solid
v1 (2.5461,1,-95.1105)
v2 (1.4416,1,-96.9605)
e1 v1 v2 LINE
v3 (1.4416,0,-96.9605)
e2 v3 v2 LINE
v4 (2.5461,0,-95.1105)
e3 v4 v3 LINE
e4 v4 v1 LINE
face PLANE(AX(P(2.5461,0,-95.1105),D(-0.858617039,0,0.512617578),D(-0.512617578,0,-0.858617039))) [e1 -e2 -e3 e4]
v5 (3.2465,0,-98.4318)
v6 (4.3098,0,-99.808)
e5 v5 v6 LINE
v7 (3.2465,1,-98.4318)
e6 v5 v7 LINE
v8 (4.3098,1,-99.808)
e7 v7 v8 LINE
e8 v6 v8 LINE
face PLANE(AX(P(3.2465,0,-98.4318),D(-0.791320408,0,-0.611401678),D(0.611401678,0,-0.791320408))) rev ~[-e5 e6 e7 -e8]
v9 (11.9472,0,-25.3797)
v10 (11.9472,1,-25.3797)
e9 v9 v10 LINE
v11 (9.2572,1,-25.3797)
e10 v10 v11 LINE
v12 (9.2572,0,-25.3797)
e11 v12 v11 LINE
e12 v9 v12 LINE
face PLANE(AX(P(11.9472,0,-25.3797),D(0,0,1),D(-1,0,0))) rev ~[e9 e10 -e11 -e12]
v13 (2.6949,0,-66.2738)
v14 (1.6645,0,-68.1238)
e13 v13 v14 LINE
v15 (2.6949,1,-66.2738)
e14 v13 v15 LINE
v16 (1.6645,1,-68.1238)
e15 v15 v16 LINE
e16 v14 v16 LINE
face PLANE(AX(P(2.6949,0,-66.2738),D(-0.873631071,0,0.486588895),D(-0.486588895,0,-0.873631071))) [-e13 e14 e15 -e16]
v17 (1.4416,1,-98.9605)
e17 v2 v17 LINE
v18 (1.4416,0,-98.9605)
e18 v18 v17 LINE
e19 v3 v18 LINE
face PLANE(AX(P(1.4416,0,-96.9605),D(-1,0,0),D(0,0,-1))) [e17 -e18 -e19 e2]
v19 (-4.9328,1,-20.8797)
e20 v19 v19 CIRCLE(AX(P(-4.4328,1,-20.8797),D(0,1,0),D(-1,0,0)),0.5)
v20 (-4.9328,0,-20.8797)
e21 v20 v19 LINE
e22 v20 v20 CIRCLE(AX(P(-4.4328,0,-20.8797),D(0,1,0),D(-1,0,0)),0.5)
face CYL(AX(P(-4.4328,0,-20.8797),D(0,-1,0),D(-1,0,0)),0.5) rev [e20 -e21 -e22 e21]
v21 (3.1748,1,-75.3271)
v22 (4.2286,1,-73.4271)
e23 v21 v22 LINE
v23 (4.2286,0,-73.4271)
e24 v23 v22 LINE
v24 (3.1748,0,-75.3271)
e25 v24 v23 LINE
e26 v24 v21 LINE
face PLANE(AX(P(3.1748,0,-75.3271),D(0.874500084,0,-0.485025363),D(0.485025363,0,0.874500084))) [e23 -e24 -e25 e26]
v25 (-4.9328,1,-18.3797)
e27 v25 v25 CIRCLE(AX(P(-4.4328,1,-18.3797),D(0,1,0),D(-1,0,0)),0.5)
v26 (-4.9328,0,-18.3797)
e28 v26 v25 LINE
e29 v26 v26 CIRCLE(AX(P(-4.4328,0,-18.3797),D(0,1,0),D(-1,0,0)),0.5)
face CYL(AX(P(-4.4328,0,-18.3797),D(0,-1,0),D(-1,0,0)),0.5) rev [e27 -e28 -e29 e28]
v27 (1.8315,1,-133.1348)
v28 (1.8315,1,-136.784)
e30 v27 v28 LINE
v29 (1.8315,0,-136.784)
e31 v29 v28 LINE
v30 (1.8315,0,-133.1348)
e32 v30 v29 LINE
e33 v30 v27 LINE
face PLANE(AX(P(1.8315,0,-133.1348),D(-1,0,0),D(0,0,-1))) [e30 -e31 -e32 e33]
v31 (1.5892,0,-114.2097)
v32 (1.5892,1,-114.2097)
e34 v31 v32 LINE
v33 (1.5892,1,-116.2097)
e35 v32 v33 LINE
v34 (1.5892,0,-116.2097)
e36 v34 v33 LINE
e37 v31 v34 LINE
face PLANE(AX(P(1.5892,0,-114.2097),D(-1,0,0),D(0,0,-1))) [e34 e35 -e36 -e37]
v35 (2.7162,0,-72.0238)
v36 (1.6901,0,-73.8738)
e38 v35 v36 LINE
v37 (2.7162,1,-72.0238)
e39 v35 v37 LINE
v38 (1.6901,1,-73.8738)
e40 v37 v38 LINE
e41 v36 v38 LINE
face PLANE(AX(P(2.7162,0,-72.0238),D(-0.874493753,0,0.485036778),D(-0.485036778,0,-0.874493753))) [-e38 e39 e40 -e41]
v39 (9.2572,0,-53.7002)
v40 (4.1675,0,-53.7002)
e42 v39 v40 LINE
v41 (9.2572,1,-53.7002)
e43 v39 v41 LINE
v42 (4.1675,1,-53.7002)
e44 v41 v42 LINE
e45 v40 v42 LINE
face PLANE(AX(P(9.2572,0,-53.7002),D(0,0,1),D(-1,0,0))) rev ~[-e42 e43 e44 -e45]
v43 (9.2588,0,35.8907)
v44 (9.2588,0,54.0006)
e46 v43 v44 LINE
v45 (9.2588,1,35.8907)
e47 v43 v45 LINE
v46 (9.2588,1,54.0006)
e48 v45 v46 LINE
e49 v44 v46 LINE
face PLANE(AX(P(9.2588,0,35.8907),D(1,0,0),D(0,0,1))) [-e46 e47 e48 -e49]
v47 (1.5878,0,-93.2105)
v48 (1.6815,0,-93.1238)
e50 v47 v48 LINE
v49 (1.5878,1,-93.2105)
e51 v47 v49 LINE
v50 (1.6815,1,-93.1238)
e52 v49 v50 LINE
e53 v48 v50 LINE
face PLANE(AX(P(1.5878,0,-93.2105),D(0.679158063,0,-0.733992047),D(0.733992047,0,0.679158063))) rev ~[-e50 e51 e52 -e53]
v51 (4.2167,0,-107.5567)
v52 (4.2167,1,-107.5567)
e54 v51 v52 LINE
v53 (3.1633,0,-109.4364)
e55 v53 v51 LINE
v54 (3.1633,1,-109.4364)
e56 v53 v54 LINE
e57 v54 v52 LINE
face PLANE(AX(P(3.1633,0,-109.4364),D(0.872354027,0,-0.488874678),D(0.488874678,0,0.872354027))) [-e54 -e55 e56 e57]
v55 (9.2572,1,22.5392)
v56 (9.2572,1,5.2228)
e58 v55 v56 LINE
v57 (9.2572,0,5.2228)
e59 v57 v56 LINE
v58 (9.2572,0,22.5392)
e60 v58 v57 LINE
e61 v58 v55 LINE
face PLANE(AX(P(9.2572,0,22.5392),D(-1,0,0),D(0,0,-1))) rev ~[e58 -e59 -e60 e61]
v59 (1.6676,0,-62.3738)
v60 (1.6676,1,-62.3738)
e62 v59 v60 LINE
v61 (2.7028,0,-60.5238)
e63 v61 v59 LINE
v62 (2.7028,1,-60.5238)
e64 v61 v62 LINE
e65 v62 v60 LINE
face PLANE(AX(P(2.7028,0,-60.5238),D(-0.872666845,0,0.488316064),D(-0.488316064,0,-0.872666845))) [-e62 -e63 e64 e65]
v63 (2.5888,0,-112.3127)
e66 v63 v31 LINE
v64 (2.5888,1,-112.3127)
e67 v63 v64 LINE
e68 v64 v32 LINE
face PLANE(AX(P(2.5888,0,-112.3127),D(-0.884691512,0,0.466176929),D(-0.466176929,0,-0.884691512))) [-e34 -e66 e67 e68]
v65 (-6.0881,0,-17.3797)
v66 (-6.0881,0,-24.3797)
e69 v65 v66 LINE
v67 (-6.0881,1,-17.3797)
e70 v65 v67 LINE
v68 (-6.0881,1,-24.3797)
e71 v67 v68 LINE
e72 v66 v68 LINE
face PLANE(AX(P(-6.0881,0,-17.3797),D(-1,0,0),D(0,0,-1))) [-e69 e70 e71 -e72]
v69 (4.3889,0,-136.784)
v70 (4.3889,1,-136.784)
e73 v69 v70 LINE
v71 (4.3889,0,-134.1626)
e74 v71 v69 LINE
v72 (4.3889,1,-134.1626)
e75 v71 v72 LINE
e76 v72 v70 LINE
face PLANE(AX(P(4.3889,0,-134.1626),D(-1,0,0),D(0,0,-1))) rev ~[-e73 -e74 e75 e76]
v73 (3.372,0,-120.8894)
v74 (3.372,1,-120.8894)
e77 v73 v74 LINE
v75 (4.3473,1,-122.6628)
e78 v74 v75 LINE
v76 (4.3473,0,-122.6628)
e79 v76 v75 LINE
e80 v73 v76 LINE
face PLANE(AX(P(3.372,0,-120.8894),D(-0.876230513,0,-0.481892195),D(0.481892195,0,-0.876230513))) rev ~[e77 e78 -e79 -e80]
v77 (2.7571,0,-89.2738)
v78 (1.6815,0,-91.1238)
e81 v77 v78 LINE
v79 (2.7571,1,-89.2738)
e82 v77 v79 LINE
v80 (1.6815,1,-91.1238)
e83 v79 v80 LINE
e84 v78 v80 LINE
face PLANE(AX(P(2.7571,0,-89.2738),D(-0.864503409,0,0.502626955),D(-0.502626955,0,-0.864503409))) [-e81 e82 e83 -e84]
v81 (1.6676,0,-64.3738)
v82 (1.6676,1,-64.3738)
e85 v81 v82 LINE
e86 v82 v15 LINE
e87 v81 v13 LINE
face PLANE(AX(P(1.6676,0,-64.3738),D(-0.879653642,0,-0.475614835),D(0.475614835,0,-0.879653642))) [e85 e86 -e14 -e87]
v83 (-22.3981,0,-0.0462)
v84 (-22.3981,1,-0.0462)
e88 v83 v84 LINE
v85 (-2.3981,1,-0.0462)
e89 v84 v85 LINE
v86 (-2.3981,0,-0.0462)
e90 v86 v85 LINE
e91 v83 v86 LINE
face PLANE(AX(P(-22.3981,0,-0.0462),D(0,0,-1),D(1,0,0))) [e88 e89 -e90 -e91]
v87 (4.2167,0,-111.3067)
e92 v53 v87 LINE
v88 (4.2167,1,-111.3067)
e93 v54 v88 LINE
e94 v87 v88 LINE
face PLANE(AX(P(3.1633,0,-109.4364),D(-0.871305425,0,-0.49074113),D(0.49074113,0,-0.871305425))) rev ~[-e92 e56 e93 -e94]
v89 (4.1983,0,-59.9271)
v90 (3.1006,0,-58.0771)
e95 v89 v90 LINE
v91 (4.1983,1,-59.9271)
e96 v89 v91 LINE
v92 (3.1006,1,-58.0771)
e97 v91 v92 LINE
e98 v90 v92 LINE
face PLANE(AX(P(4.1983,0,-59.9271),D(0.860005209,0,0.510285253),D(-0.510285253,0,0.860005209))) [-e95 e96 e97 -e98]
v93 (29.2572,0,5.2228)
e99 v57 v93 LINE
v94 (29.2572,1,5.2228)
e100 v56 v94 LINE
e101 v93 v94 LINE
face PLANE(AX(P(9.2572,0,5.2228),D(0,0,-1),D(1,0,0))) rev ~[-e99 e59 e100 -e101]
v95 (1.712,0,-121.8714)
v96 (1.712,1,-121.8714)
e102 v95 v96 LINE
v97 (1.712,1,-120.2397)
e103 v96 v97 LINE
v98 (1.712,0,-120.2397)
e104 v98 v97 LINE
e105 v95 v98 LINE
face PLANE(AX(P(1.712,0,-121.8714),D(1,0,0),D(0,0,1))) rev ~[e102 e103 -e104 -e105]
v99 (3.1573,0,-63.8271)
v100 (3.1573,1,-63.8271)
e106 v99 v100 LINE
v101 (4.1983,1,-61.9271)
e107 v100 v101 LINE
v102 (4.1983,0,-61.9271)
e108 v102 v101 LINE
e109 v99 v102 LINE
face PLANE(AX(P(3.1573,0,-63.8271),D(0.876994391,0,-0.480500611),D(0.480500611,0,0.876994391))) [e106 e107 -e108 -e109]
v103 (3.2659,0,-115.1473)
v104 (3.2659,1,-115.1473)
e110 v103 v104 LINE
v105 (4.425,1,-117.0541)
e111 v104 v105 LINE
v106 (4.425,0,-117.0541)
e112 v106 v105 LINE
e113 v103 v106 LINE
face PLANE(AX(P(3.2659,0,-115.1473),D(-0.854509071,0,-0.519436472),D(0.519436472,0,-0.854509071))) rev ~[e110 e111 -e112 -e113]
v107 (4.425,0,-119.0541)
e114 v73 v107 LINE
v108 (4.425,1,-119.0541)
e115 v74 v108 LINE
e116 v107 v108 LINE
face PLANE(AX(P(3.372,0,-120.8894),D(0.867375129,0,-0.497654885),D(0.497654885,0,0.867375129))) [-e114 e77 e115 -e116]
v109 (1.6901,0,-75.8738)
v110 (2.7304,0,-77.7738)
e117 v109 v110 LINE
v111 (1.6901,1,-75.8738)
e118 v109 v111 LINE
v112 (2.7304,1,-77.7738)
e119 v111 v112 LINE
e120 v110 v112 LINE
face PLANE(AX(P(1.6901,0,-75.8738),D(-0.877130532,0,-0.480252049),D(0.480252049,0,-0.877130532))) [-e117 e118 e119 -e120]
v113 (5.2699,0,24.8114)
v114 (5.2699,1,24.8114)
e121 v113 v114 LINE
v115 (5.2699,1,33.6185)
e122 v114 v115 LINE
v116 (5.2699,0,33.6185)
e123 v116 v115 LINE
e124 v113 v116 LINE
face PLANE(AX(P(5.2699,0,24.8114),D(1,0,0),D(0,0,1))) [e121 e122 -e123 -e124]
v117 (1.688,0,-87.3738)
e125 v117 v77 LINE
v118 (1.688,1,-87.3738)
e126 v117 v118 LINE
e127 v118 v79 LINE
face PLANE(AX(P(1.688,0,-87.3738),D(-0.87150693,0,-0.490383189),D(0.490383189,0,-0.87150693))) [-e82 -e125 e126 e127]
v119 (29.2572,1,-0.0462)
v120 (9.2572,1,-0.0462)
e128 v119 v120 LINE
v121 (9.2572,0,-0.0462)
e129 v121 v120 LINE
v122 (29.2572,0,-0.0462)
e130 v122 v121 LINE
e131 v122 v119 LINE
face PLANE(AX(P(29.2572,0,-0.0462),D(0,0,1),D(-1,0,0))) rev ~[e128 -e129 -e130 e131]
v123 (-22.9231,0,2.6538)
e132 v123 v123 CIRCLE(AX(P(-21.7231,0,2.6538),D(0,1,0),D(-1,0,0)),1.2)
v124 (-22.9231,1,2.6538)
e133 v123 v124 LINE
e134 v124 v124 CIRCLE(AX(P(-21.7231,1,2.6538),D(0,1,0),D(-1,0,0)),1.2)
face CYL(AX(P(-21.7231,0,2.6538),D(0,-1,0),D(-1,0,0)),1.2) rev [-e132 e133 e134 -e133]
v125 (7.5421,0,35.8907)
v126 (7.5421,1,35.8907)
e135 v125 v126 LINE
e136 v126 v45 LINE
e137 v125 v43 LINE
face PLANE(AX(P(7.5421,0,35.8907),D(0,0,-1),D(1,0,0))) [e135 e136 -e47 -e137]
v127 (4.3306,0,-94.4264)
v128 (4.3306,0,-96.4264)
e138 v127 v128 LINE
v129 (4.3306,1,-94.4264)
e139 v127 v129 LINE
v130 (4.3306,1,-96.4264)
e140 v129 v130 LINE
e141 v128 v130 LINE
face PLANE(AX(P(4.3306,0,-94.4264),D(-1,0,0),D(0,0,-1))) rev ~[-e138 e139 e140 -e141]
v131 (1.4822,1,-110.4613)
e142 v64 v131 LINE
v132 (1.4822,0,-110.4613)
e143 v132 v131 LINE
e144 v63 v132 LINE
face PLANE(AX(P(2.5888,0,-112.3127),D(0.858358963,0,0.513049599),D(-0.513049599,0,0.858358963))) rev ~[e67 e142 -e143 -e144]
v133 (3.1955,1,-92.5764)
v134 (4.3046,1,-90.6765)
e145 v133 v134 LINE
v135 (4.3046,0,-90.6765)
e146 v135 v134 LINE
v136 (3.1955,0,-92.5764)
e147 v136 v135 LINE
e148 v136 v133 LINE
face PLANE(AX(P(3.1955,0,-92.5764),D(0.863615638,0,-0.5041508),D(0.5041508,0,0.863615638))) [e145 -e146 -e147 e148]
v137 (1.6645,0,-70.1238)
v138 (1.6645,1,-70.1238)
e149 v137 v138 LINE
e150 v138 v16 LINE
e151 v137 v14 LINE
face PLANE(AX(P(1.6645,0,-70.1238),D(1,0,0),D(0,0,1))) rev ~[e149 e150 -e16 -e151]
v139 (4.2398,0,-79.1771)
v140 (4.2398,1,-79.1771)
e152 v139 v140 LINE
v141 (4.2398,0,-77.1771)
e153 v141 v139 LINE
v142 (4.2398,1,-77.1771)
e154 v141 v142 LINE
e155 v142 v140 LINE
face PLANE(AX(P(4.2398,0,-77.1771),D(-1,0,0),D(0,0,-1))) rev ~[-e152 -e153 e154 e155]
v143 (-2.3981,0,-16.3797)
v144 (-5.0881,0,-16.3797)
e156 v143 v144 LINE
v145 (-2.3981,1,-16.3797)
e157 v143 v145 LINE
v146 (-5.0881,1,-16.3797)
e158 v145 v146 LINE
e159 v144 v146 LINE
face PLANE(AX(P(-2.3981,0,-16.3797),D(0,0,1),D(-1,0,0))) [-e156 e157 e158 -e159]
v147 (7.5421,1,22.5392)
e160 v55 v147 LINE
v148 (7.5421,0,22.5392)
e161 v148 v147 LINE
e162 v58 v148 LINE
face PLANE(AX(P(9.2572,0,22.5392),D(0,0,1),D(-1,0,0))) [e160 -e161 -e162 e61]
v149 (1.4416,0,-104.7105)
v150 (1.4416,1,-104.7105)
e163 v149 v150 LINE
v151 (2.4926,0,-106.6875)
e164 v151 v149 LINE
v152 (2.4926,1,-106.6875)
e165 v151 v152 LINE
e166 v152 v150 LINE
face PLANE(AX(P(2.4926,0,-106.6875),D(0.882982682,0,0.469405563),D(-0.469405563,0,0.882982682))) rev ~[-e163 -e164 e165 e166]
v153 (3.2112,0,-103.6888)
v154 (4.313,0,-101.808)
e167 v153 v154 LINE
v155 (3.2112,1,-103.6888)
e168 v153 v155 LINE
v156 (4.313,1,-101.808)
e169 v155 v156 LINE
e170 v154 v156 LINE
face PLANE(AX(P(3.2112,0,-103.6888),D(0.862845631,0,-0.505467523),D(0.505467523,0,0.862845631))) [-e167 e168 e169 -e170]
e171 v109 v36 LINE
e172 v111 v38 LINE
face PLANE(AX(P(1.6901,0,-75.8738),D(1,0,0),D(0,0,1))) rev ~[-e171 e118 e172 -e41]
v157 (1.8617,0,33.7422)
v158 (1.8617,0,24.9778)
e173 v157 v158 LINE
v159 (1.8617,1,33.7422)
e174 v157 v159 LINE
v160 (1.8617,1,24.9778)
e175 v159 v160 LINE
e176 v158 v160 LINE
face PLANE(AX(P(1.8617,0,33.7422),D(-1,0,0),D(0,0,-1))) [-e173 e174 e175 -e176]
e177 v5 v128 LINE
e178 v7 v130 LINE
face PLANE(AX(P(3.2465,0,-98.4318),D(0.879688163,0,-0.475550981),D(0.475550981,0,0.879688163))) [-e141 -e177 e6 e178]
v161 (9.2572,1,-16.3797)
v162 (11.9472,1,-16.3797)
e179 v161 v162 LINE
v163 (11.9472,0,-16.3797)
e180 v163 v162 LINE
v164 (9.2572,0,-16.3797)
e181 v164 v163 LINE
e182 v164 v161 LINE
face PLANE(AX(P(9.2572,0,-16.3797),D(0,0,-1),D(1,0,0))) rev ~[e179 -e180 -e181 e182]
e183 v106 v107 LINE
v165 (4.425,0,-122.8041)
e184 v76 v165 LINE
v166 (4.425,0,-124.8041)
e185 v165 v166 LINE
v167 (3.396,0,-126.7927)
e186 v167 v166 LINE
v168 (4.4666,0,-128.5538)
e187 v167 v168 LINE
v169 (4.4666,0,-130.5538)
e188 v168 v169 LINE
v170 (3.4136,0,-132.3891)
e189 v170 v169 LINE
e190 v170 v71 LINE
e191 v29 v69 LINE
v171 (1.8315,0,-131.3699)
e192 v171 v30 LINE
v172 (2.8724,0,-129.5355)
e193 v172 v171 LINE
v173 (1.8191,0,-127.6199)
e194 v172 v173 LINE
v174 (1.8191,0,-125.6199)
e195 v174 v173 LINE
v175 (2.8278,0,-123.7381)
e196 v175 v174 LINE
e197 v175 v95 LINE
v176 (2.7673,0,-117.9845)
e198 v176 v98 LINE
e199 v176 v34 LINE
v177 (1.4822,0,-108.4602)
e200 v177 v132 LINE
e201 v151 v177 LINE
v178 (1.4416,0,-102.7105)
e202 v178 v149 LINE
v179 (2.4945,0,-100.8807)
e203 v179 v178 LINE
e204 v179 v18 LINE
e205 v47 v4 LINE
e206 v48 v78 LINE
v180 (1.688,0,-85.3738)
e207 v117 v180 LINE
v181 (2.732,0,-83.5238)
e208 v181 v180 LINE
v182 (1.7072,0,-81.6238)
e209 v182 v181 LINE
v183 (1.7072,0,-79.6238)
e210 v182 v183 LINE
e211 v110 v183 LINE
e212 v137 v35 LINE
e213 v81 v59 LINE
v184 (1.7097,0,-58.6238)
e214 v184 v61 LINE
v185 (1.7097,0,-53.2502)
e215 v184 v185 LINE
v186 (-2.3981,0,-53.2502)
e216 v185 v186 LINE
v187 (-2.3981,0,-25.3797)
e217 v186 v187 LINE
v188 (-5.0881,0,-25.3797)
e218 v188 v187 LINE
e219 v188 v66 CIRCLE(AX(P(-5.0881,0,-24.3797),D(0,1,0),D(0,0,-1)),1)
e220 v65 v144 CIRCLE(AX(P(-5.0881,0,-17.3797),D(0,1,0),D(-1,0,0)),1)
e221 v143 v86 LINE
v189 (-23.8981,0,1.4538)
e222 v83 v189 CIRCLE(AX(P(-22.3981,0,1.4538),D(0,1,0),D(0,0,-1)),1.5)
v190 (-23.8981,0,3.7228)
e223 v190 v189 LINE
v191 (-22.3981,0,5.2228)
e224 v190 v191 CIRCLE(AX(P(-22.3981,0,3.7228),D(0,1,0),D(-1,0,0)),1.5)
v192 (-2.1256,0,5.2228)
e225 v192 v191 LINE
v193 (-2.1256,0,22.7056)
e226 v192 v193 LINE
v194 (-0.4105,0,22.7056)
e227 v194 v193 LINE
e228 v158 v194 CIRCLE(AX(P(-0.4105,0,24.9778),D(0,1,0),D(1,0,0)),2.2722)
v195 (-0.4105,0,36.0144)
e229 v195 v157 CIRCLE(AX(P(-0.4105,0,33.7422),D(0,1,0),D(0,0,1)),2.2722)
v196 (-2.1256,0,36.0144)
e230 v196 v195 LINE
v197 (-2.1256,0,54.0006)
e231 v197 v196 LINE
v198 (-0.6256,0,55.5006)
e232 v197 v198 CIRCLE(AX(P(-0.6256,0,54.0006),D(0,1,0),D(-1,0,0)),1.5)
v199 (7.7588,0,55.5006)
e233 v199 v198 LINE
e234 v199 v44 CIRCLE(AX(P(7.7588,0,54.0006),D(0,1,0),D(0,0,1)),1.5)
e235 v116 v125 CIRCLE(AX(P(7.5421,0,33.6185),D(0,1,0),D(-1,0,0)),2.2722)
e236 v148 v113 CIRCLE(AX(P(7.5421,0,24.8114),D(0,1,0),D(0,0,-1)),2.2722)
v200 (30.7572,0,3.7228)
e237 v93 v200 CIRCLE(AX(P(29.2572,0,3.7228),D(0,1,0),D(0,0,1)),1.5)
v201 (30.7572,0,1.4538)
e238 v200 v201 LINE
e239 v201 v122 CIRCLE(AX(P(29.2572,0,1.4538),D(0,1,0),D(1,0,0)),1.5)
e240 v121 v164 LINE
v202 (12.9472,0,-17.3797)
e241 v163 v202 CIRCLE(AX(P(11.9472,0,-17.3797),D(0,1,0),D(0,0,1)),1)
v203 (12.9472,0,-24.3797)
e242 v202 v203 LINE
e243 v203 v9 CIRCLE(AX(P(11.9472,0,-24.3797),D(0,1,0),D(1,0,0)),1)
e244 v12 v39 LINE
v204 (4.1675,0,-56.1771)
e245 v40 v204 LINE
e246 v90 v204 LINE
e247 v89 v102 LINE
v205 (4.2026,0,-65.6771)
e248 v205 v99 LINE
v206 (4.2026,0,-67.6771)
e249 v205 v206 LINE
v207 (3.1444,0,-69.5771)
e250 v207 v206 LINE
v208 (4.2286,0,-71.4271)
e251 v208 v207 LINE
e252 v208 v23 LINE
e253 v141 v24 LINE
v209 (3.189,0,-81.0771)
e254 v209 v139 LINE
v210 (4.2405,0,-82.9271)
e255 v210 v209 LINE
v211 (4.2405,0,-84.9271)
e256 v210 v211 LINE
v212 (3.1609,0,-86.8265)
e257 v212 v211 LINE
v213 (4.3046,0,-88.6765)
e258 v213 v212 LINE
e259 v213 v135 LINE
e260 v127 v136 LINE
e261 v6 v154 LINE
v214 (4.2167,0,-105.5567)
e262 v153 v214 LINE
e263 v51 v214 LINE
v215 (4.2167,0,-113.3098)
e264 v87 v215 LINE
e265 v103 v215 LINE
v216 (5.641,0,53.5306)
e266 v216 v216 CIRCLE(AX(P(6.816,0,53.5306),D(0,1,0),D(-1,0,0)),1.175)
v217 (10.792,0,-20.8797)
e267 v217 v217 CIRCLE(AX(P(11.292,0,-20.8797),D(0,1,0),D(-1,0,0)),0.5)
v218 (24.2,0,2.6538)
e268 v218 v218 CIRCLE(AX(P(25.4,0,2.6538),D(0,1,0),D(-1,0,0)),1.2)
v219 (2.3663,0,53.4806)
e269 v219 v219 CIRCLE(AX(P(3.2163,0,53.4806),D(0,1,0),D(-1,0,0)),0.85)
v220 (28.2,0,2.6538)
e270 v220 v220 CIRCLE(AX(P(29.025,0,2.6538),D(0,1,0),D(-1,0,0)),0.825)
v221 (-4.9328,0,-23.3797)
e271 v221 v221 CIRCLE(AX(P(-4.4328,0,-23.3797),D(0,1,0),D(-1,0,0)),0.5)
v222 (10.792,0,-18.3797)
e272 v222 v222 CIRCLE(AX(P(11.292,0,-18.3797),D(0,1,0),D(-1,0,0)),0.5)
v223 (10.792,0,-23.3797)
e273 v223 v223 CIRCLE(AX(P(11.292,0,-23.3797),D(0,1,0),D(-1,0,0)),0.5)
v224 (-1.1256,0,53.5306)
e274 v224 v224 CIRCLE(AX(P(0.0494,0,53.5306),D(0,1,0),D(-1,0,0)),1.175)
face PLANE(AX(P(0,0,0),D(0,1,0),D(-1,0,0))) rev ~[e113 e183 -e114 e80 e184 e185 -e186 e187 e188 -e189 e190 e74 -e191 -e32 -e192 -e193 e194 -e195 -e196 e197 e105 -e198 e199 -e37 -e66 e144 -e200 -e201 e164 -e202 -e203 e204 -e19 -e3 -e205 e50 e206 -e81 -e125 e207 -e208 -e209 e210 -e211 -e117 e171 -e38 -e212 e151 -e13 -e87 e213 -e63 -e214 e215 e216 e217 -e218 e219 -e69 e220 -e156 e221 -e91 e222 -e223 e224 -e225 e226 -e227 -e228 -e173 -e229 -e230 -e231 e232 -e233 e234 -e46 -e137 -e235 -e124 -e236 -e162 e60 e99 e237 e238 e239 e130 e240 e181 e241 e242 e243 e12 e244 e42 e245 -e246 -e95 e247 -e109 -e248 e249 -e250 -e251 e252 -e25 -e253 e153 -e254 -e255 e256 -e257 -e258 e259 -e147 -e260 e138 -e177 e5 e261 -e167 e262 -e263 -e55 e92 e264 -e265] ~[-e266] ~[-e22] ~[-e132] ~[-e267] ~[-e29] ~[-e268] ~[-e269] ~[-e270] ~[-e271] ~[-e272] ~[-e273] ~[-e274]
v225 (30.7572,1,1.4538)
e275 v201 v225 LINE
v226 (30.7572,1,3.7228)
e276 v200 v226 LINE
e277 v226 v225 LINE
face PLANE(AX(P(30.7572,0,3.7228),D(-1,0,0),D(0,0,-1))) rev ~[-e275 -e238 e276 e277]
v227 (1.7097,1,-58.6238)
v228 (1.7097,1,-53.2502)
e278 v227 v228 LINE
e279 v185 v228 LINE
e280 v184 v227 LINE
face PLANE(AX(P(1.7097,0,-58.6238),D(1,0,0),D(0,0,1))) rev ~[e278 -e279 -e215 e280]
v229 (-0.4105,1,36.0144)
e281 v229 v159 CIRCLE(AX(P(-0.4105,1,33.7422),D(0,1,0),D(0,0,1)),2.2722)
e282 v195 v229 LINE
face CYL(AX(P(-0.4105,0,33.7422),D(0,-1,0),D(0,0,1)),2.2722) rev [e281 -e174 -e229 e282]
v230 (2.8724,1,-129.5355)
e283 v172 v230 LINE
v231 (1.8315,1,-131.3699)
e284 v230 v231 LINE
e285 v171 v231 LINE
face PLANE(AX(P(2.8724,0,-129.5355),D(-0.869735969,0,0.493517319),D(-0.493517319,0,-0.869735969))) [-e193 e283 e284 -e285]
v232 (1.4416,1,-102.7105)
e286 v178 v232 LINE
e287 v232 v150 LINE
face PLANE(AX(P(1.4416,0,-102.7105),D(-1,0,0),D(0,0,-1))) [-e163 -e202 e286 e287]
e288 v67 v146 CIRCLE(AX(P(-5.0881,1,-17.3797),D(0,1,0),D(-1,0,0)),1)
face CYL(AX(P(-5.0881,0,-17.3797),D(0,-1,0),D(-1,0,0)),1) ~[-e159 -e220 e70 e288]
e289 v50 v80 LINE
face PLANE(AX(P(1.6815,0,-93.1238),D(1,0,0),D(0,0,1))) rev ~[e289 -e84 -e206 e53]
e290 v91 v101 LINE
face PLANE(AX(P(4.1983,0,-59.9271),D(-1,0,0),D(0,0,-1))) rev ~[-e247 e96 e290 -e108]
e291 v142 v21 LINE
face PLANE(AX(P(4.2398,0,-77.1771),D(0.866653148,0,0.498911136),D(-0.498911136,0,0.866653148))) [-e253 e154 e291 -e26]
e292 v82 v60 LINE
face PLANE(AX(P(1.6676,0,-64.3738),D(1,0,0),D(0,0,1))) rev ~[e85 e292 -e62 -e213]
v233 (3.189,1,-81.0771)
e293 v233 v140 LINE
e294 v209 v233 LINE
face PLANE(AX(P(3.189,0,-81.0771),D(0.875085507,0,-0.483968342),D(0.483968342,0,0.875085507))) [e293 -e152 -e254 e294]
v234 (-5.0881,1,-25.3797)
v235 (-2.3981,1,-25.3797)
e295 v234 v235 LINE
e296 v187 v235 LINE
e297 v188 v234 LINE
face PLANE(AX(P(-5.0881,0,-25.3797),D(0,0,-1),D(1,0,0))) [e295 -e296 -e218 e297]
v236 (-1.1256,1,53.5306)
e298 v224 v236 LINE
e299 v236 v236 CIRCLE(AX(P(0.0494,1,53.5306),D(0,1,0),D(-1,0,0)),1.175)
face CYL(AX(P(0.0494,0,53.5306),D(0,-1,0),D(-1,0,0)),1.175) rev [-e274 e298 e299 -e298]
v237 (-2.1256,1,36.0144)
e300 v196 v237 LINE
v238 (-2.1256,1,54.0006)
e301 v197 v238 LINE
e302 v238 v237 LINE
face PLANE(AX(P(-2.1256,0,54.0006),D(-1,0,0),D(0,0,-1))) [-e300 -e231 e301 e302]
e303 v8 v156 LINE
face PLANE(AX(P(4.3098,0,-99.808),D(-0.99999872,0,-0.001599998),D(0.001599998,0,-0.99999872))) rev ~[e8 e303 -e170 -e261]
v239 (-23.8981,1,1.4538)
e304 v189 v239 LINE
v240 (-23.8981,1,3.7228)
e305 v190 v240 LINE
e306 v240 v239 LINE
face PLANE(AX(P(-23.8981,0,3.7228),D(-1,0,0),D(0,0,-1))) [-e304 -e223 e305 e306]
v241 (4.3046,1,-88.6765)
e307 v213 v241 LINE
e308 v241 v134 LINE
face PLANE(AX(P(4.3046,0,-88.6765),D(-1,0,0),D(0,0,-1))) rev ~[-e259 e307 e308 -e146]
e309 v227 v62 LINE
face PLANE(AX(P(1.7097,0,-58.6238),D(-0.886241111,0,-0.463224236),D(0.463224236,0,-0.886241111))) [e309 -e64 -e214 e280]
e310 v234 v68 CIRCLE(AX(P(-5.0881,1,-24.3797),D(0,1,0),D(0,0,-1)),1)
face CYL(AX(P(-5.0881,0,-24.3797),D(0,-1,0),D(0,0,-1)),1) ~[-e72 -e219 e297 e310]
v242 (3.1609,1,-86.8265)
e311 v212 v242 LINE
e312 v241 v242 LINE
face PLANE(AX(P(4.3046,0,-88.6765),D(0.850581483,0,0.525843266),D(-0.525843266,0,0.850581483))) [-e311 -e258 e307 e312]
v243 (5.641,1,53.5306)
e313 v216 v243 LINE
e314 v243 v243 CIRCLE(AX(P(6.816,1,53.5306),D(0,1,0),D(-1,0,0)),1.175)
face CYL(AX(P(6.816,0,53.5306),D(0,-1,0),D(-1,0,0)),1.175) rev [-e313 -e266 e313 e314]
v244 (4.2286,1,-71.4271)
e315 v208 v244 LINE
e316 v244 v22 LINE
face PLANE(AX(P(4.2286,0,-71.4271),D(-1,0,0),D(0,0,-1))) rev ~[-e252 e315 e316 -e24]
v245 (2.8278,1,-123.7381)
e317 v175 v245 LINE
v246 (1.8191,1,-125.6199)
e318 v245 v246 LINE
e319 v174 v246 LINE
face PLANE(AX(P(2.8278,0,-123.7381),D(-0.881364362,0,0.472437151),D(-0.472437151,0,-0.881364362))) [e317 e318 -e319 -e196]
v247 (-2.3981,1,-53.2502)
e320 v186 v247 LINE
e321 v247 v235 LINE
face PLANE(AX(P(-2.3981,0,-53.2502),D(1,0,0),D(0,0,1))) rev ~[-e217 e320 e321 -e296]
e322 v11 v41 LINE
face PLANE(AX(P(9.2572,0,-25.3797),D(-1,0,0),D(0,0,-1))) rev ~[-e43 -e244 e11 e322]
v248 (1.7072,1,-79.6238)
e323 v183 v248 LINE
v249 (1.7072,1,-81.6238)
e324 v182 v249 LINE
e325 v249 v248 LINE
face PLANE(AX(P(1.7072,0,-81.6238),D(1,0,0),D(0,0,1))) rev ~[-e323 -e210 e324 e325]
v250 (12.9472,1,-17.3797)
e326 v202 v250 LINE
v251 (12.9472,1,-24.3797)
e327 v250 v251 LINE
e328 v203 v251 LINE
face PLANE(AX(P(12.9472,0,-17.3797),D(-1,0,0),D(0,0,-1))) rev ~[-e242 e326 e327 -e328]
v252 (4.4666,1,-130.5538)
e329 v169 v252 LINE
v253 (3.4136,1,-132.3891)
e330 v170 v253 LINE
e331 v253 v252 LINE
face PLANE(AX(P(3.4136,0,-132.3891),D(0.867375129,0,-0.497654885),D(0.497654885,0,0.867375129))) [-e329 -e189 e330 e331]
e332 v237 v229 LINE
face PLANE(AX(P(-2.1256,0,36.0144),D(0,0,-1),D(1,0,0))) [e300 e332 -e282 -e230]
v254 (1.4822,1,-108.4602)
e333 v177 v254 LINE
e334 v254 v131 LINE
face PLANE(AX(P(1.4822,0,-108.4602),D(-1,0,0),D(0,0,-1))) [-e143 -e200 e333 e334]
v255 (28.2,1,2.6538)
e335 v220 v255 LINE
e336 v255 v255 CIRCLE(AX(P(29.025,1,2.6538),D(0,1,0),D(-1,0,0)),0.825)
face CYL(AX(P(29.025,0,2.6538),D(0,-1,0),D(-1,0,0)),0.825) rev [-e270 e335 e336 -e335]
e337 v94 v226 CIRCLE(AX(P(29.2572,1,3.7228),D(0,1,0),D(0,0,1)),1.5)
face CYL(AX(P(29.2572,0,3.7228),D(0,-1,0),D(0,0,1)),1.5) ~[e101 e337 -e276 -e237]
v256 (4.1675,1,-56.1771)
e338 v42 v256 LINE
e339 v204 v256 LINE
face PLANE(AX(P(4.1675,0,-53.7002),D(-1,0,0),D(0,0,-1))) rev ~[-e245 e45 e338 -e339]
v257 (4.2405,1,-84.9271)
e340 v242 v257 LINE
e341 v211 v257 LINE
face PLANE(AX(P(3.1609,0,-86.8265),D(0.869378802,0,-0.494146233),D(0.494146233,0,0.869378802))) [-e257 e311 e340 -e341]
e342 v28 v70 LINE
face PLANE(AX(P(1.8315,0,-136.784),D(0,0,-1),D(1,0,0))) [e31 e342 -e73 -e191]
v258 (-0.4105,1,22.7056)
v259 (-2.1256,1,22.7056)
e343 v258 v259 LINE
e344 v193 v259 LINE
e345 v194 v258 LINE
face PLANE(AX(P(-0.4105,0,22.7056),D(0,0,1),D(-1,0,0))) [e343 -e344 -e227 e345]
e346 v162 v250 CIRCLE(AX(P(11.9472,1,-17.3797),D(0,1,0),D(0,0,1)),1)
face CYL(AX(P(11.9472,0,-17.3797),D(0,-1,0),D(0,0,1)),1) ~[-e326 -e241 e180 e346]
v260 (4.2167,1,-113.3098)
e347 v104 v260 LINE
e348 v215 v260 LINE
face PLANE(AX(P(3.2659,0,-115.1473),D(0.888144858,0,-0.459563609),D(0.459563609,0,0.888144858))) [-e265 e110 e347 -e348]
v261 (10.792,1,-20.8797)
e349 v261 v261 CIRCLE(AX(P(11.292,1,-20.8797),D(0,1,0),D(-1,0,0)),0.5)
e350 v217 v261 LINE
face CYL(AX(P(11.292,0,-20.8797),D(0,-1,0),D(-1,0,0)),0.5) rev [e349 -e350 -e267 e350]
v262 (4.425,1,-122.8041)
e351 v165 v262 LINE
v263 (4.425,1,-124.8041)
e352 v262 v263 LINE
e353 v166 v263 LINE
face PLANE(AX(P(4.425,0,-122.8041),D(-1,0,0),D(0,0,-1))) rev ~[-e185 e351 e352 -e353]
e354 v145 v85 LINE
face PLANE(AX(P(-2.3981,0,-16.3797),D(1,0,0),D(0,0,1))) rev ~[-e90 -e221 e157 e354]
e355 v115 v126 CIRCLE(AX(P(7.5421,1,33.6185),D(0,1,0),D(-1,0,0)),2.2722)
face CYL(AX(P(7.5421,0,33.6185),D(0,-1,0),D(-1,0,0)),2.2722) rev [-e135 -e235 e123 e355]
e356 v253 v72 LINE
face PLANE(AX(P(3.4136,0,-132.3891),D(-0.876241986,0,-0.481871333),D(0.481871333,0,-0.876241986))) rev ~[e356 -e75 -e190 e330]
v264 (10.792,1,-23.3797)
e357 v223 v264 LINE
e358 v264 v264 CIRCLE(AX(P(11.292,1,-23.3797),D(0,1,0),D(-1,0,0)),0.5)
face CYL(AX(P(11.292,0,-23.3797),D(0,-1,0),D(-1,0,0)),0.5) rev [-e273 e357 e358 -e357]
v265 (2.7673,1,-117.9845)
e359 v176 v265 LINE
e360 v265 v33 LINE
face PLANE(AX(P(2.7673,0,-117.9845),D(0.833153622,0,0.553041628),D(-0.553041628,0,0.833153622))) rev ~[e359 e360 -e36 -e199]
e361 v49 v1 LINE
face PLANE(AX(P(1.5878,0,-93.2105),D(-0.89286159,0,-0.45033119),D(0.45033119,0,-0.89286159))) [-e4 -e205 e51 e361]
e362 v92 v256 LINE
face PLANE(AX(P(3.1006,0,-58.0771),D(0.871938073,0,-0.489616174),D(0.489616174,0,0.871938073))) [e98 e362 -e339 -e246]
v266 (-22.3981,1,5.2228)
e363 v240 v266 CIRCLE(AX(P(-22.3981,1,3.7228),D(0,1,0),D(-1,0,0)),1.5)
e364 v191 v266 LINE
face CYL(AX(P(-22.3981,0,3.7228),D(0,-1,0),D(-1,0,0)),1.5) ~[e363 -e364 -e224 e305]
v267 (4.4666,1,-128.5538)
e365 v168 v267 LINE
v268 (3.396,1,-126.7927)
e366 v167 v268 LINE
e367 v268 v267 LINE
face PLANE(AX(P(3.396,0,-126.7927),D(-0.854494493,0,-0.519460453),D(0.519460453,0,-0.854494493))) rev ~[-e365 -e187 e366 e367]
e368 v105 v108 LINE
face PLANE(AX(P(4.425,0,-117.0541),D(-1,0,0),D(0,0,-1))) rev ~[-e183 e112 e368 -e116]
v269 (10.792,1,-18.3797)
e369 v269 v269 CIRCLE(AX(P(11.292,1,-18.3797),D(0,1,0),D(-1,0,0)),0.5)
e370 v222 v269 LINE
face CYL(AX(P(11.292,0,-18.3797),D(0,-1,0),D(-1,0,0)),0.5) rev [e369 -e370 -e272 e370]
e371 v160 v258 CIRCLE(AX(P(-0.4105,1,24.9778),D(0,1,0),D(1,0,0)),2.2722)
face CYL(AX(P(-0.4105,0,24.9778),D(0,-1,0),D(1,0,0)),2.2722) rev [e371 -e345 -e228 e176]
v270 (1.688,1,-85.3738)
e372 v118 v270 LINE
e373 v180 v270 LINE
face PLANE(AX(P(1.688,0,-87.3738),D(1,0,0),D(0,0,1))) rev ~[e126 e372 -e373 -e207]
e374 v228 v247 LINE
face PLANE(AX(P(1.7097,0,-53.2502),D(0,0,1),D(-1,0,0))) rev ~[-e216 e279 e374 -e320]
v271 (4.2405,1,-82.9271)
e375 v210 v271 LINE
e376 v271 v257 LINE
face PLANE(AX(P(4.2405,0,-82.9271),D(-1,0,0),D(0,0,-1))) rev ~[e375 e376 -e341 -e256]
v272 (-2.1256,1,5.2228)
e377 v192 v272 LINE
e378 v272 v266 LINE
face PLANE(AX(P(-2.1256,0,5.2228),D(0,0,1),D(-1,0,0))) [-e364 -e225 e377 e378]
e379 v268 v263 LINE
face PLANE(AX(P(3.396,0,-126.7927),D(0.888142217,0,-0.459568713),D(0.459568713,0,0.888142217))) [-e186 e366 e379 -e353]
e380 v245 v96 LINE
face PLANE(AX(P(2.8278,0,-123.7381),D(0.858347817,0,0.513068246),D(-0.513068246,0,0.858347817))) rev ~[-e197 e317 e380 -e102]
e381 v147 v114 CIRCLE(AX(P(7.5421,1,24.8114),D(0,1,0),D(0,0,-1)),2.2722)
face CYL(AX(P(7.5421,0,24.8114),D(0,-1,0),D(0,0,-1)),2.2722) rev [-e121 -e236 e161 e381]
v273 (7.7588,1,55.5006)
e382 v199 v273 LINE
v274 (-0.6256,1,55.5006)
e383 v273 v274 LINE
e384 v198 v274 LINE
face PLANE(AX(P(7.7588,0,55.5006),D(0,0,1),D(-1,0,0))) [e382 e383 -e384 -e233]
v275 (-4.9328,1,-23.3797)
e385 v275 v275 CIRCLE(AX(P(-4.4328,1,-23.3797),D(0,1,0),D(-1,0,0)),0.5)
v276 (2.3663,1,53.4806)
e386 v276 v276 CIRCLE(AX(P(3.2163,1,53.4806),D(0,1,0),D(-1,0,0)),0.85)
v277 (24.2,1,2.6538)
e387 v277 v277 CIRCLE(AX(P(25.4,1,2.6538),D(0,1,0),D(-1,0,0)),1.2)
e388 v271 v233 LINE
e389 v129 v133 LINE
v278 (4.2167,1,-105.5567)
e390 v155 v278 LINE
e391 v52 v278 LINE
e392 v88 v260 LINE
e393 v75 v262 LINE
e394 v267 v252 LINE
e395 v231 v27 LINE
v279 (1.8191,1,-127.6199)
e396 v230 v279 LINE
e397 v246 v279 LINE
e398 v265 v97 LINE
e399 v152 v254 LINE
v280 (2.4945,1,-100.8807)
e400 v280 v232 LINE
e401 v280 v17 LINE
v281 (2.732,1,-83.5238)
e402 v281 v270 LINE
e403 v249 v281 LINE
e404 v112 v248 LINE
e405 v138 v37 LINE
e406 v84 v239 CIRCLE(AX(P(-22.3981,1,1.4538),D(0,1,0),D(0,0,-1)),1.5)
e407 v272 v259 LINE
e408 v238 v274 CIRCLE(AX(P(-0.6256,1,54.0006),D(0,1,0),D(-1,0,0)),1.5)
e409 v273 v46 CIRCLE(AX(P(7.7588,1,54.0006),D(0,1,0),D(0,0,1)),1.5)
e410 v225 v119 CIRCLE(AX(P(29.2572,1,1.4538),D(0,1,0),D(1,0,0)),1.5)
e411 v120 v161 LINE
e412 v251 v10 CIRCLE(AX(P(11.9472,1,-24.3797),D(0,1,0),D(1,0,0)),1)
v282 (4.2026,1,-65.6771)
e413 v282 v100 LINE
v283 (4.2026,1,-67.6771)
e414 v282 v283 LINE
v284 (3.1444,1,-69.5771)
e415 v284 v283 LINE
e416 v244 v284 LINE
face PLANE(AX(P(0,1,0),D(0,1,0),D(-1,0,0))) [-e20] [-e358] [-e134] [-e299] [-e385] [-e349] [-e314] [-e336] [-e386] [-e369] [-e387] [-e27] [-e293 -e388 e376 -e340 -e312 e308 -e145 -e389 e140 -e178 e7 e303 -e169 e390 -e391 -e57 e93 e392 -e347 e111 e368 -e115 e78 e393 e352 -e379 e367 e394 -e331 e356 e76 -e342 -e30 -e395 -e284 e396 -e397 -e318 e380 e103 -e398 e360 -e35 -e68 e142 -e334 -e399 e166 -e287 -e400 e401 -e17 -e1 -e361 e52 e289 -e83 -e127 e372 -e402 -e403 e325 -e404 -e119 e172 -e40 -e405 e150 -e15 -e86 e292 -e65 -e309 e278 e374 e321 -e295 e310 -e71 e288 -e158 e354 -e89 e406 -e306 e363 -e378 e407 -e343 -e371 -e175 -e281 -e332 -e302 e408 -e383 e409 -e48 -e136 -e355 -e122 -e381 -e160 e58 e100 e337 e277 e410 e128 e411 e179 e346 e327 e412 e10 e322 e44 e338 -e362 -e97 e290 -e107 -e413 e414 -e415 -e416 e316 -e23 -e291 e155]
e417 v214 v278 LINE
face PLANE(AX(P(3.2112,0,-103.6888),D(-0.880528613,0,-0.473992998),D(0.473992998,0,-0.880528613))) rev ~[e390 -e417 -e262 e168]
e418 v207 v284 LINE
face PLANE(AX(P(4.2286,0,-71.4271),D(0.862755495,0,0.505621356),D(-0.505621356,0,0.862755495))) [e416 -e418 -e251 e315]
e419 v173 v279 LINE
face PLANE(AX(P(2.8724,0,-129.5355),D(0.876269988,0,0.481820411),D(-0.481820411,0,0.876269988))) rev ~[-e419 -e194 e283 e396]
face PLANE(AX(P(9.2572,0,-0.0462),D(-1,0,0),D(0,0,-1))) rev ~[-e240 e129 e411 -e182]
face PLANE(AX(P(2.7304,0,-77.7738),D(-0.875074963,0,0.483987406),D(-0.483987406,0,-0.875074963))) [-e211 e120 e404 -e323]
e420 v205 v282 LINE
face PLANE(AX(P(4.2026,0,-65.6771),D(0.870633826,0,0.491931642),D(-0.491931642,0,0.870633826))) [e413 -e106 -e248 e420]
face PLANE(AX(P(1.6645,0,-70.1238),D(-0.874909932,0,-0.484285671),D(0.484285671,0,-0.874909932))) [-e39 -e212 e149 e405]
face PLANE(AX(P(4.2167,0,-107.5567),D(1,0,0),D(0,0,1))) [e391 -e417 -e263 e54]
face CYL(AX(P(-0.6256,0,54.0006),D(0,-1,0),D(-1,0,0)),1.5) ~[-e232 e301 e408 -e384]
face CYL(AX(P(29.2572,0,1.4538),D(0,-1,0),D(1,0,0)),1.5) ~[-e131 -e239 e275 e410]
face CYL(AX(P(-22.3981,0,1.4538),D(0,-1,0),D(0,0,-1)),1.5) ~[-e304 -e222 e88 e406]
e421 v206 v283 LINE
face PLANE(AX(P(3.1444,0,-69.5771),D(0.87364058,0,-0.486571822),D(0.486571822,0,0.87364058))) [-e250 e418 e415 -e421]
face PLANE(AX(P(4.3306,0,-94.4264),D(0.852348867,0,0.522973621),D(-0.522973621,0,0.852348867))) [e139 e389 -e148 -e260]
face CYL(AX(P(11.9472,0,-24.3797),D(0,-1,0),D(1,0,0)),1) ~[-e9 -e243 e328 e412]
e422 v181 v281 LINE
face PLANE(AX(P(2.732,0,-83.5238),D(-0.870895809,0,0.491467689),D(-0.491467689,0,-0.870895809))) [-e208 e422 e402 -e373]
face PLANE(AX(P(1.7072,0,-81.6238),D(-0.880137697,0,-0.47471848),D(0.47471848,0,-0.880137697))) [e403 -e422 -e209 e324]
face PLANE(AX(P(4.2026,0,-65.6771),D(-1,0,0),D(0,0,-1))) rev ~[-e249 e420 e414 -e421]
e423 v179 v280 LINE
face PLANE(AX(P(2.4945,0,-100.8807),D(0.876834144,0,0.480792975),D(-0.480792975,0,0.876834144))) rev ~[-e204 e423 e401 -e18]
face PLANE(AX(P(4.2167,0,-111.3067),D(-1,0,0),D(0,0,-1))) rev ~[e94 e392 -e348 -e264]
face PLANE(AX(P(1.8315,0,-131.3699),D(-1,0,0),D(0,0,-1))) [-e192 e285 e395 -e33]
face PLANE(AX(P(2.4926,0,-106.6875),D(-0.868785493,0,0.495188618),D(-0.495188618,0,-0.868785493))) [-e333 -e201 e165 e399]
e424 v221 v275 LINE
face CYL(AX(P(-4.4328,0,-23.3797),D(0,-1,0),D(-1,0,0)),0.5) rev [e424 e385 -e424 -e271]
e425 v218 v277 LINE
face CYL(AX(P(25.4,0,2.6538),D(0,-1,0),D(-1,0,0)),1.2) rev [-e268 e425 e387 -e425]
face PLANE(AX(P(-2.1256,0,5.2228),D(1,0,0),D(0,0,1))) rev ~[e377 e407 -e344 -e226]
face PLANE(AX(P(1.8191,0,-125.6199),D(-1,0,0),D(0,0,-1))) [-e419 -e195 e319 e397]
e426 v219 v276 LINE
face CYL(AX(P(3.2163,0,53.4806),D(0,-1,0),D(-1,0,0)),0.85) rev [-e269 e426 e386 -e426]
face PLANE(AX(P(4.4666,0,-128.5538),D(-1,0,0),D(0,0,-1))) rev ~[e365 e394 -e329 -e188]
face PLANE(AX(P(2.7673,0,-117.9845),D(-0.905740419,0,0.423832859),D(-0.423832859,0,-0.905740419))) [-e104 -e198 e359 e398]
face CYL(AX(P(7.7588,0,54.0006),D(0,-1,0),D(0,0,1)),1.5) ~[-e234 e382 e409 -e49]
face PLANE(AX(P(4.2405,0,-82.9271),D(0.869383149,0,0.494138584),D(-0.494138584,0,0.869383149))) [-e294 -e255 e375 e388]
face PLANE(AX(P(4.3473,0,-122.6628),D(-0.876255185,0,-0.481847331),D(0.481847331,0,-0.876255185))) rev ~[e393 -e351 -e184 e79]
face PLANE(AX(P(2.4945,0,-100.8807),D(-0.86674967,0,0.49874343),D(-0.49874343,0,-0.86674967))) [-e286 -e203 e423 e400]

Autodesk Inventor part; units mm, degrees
ref_plane "YZ Plane" through (0, 0, 0) normal (1, 0, 0) x (0, 1, 0)
ref_plane "XZ Plane" through (0, 0, 0) normal (0, 1, 0) x (-1, 0, 0)
ref_plane "XY Plane" through (0, 0, 0) normal (0, 0, 1) x (1, 0, 0)
sketch "Sketch1" plane through (0, 0, 0) normal (0, 1, 0) x (-1, 0, 0)
  line L0 (-9.2572, 22.5392) -> (-9.2572, 5.2228)
  line L1 (-9.2588, 35.8907) -> (-9.2588, 54.0006)
  line L2 (-7.7588, 55.5006) -> (0.6256, 55.5006)
  line L3 (2.1256, 54.0006) -> (2.1256, 36.0144)
  circle A0 centre (-0.0494, 53.5306) radius 1.175
  circle A1 centre (-6.816, 53.5306) radius 1.175
  line L4 (-9.2572, 22.5392) -> (-7.5421, 22.5392)
  line L5 (-5.2699, 24.8114) -> (-5.2699, 33.6185)
  line L6 (-7.5421, 35.8907) -> (-9.2588, 35.8907)
  line L7 (2.1256, 36.0144) -> (0.4105, 36.0144)
  line L8 (-1.8617, 33.7422) -> (-1.8617, 24.9778)
  line L9 (0.4105, 22.7056) -> (2.1256, 22.7056)
  arc A2 (0.4105, 36.0144) -> (-1.8617, 33.7422) centre (0.4105, 33.7422) ccw
  arc A3 (-1.8617, 24.9778) -> (0.4105, 22.7056) centre (0.4105, 24.9778) ccw
  arc A4 (-7.5421, 22.5392) -> (-5.2699, 24.8114) centre (-7.5421, 24.8114) ccw
  arc A5 (-5.2699, 33.6185) -> (-7.5421, 35.8907) centre (-7.5421, 33.6185) ccw
  line L10 (2.1256, 5.2228) -> (22.3981, 5.2228)
  line L11 (23.8981, 3.7228) -> (23.8981, 1.4538)
  line L12 (22.3981, -0.0462) -> (2.3981, -0.0462)
  line L13 (-9.2572, 5.2228) -> (-29.2572, 5.2228)
  line L14 (-30.7572, 3.7228) -> (-30.7572, 1.4538)
  line L15 (-29.2572, -0.0462) -> (-9.2572, -0.0462)
  line L16 (2.3981, -16.3797) -> (5.0881, -16.3797)
  line L17 (6.0881, -17.3797) -> (6.0881, -24.3797)
  line L18 (5.0881, -25.3797) -> (2.3981, -25.3797)
  line L19 (-9.2572, -16.3797) -> (-11.9472, -16.3797)
  line L20 (-12.9472, -17.3797) -> (-12.9472, -24.3797)
  line L21 (-11.9472, -25.3797) -> (-9.2572, -25.3797)
  circle A6 centre (-3.2163, 53.4806) radius 0.85
  circle A7 centre (-25.4, 2.6538) radius 1.2
  circle A8 centre (-29.025, 2.6538) radius 0.825
  circle A9 centre (21.7231, 2.6538) radius 1.2
  line L22 (-9.2572, -0.0462) -> (-9.2572, -16.3797)
  line L23 (2.1256, 5.2228) -> (2.1256, 22.7056)
  line L24 (2.3981, -16.3797) -> (2.3981, -0.0462)
  arc A10 (2.1256, 54.0006) -> (0.6256, 55.5006) centre (0.6256, 54.0006) ccw
  arc A11 (-7.7588, 55.5006) -> (-9.2588, 54.0006) centre (-7.7588, 54.0006) ccw
  arc A12 (22.3981, -0.0462) -> (23.8981, 1.4538) centre (22.3981, 1.4538) ccw
  arc A13 (23.8981, 3.7228) -> (22.3981, 5.2228) centre (22.3981, 3.7228) ccw
  arc A14 (-30.7572, 1.4538) -> (-29.2572, -0.0462) centre (-29.2572, 1.4538) ccw
  arc A15 (-29.2572, 5.2228) -> (-30.7572, 3.7228) centre (-29.2572, 3.7228) ccw
  line L25 (-3.1006, -58.0771) -> (-4.1675, -56.1771)
  line L26 (-3.1006, -58.0771) -> (-0.5618, -58.1074) construction
  line L27 (-4.1983, -59.9271) -> (-3.1006, -58.0771)
  line L28 (-3.1573, -63.8271) -> (-4.1983, -61.9271)
  line L29 (-4.2026, -65.6771) -> (-3.1573, -63.8271)
  line L30 (-3.1444, -69.5771) -> (-4.2026, -67.6771)
  line L31 (-4.2286, -71.4271) -> (-3.1444, -69.5771)
  line L32 (-3.1748, -75.3271) -> (-4.2286, -73.4271)
  line L33 (-4.2398, -77.1771) -> (-3.1748, -75.3271)
  line L34 (-3.189, -81.0771) -> (-4.2398, -79.1771)
  line L35 (-4.2405, -82.9271) -> (-3.189, -81.0771)
  line L36 (-3.1609, -86.8265) -> (-4.2405, -84.9271)
  line L37 (-4.3046, -88.6765) -> (-3.1609, -86.8265)
  line L38 (-3.1955, -92.5764) -> (-4.3046, -90.6765)
  line L39 (-4.3306, -94.4264) -> (-3.1955, -92.5764)
  line L40 (-3.2465, -98.4318) -> (-4.3306, -96.4264)
  line L41 (-2.7028, -60.5238) -> (-1.6676, -62.3738)
  line L42 (-1.7097, -58.6238) -> (-2.7028, -60.5238)
  line L43 (-2.6949, -66.2738) -> (-1.6645, -68.1238)
  line L44 (-1.6676, -64.3738) -> (-2.6949, -66.2738)
  line L45 (-2.7162, -72.0238) -> (-1.6901, -73.8738)
  line L46 (-1.6645, -70.1238) -> (-2.7162, -72.0238)
  line L47 (-2.7304, -77.7738) -> (-1.7072, -79.6238)
  line L48 (-1.6901, -75.8738) -> (-2.7304, -77.7738)
  line L49 (-2.732, -83.5238) -> (-1.688, -85.3738)
  line L50 (-1.7072, -81.6238) -> (-2.732, -83.5238)
  line L51 (-2.7571, -89.2738) -> (-1.6815, -91.1238)
  line L52 (-1.688, -87.3738) -> (-2.7571, -89.2738)
  line L53 (-2.5461, -95.1105) -> (-1.4416, -96.9605)
  line L54 (-1.5878, -93.2105) -> (-2.5461, -95.1105)
  line L55 (-1.5878, -93.2105) -> (-1.6815, -93.1238)
  line L56 (-4.3046, -88.6765) -> (-4.3046, -90.6765)
  line L57 (-4.3306, -94.4264) -> (-4.3306, -96.4264)
  line L58 (-4.2398, -77.1771) -> (-4.2398, -79.1771)
  line L59 (-4.2405, -82.9271) -> (-4.2405, -84.9271)
  line L60 (-4.1675, -53.7002) -> (-4.1675, -56.1771)
  line L61 (-4.1983, -59.9271) -> (-4.1983, -61.9271)
  line L62 (-4.2026, -65.6771) -> (-4.2026, -67.6771)
  line L63 (-4.2286, -71.4271) -> (-4.2286, -73.4271)
  line L64 (-1.6676, -64.3738) -> (-1.6676, -62.3738)
  line L65 (-1.6645, -70.1238) -> (-1.6645, -68.1238)
  line L66 (-1.6901, -75.8738) -> (-1.6901, -73.8738)
  line L67 (-1.7072, -81.6238) -> (-1.7072, -79.6238)
  line L68 (-1.6815, -93.1238) -> (-1.6815, -91.1238)
  line L69 (-1.688, -87.3738) -> (-1.688, -85.3738)
  line L70 (-3.372, -120.8894) -> (-4.3473, -122.6628)
  line L71 (-3.372, -120.8894) -> (-4.425, -119.0541)
  line L72 (-3.2465, -98.4318) -> (-4.3098, -99.808)
  line L73 (-3.2659, -115.1473) -> (-4.425, -117.0541)
  line L74 (-3.2659, -115.1473) -> (-4.2167, -113.3098)
  line L75 (-3.1633, -109.4364) -> (-4.2167, -111.3067)
  line L76 (-3.1633, -109.4364) -> (-4.2167, -107.5567)
  line L77 (-3.2112, -103.6888) -> (-4.2167, -105.5567)
  line L78 (-3.2112, -103.6888) -> (-4.313, -101.808)
  line L79 (-2.4945, -100.8807) -> (-1.4416, -98.9605)
  line L80 (-2.4945, -100.8807) -> (-1.4416, -102.7105)
  line L81 (-2.4926, -106.6875) -> (-1.4822, -108.4602)
  line L82 (-2.4926, -106.6875) -> (-1.4416, -104.7105)
  line L83 (-2.5888, -112.3127) -> (-1.5892, -114.2097)
  line L84 (-2.5888, -112.3127) -> (-1.4822, -110.4613)
  line L85 (-2.7673, -117.9845) -> (-1.712, -120.2397)
  line L86 (-2.7673, -117.9845) -> (-1.5892, -116.2097)
  line L87 (-4.3098, -99.808) -> (-4.313, -101.808)
  line L88 (-1.4416, -96.9605) -> (-1.4416, -98.9605)
  line L89 (-1.4416, -102.7105) -> (-1.4416, -104.7105)
  line L90 (-1.4822, -108.4602) -> (-1.4822, -110.4613)
  line L91 (-4.2167, -107.5567) -> (-4.2167, -105.5567)
  line L92 (-4.2167, -111.3067) -> (-4.2167, -113.3098)
  line L93 (-1.5892, -114.2097) -> (-1.5892, -116.2097)
  line L94 (-4.425, -117.0541) -> (-4.425, -119.0541)
  line L95 (2.3981, -53.2502) -> (2.3981, -25.3797)
  line L96 (-9.2572, -25.3797) -> (-9.2572, -53.7002)
  line L97 (-9.2572, -53.7002) -> (-4.1675, -53.7002)
  circle A16 centre (-11.292, -23.3797) radius 0.5
  circle A17 centre (-11.292, -18.3797) radius 0.5
  circle A18 centre (-11.292, -20.8797) radius 0.5
  circle A19 centre (4.4328, -18.3797) radius 0.5
  circle A20 centre (4.4328, -20.8797) radius 0.5
  circle A21 centre (4.4328, -23.3797) radius 0.5
  line L98 (-4.3473, -122.6628) -> (-4.425, -122.8041)
  line L99 (-3.4136, -132.3891) -> (-4.3889, -134.1626)
  line L100 (-3.4136, -132.3891) -> (-4.4666, -130.5538)
  line L101 (-3.396, -126.7927) -> (-4.425, -124.8041)
  line L102 (-3.396, -126.7927) -> (-4.4666, -128.5538)
  line L103 (-2.8724, -129.5355) -> (-1.8315, -131.3699)
  line L104 (-2.8724, -129.5355) -> (-1.8191, -127.6199)
  line L105 (-2.8278, -123.7381) -> (-1.712, -121.8714)
  line L106 (-2.8278, -123.7381) -> (-1.8191, -125.6199)
  line L107 (-4.425, -122.8041) -> (-4.425, -124.8041)
  line L108 (-1.8191, -125.6199) -> (-1.8191, -127.6199)
  line L109 (-4.4666, -128.5538) -> (-4.4666, -130.5538)
  line L110 (-1.712, -121.8714) -> (-1.712, -120.2397)
  line L111 (-1.8315, -131.3699) -> (-1.8315, -133.1348)
  line L112 (-1.8315, -133.1348) -> (-1.8315, -136.784)
  line L113 (-4.3889, -134.1626) -> (-4.3889, -136.784)
  line L114 (-1.8315, -136.784) -> (-4.3889, -136.784)
  line L115 (-1.7097, -58.6238) -> (-1.7097, -53.2502)
  line L116 (-1.7097, -53.2502) -> (2.3981, -53.2502)
  arc A22 (5.0881, -25.3797) -> (6.0881, -24.3797) centre (5.0881, -24.3797) ccw
  arc A23 (6.0881, -17.3797) -> (5.0881, -16.3797) centre (5.0881, -17.3797) ccw
  arc A24 (-11.9472, -16.3797) -> (-12.9472, -17.3797) centre (-11.9472, -17.3797) ccw
  arc A25 (-12.9472, -24.3797) -> (-11.9472, -25.3797) centre (-11.9472, -24.3797) ccw
  point P0 (-9.2588, 55.5006)
  point P1 (2.1256, 55.5006)
  point P2 (-6.9279, 18.3671)
  point P3 (-6.9323, 25.0551)
  point P4 (23.8981, -0.0462)
  point P5 (23.8981, 5.2228)
  point P6 (-30.7572, -0.0462)
  point P7 (-30.7572, 5.2228)
  point P8 (6.0881, -25.3797)
  point P9 (6.0881, -16.3797)
  point P10 (-12.9472, -25.3797)
  point P11 (-12.9472, -16.3797)
  point P12 (-4.1675, 717.4283)
  point P13 (-3.6778, -62.8771)
  point P14 (-3.7007, -85.8768)
  point P15 (-3.75, -91.6265)
  point P16 (-1.9939, -96.0355)
  point P17 (-3.68, -64.7521)
  point P18 (-9.2572, 13.881)
  point P19 (-9.2572, -8.2129)
  point P20 (-10.6022, -25.3797)
  point P21 (3.7431, -25.3797)
  point P22 (3.7431, -16.3797)
  dimension "d276" = 2.4
  dimension "d277" = 2.4
  dimension "d280" = 1.5
  dimension "d281" = 2.35
  dimension "d282" = 2.35
  dimension "d284" = 1.65
  dimension "d286" = 1.7
  dimension "d288" = 0.795
  dimension "d289" = 0.795
  dimension "d290" = 1.17
  dimension "d291" = 1.6
  dimension "d292" = 1.575
  dimension "d293" = 1.5
  dimension "d294" = 1.5
  dimension "d296" = 0.975
  dimension "d297" = 2.175
  dimension "d304" = 120
  dimension "d305" = 120
  dimension "d316" = 2
  dimension "d317" = 2
  dimension "d318" = 2
  dimension "d319" = 2
  dimension "d320" = 2
  dimension "d321" = 2
  dimension "d322" = 2
  dimension "d323" = 2
  dimension "d324" = 2
  dimension "d325" = 2
  dimension "d326" = 2
  dimension "d327" = 2
  dimension "d329" = 2
  dimension "d330" = 2
  dimension "d331" = 2
  dimension "d332" = 2.0032
  dimension "d333" = 2
  dimension "d334" = 2
  dimension "d338" = 3.75
  dimension "d339" = 3.75
  dimension "d340" = 3.75
  dimension "d341" = 3.75
  dimension "d342" = 3.75
  dimension "d343" = 3.75
  dimension "d344" = 3.75
  dimension "d345" = 3.75
  dimension "d346" = 3.75
  dimension "d347" = 3.75
  dimension "d348" = 3.75
  dimension "d349" = 3.75
  dimension "d350" = 3.75
  dimension "d351" = 3.75
  dimension "d352" = 1.85
  dimension "d353" = 1.85
  dimension "d354" = 1.85
  dimension "d355" = 1.85
  dimension "d356" = 1.85
  dimension "d357" = 1.85
  dimension "d358" = 1.85
  dimension "d359" = 1.85
  dimension "d360" = 1.85
  dimension "d361" = 1.85
  dimension "d362" = 1.85
  dimension "d363" = 1.85
  dimension "d364" = 1.85
  dimension "d365" = 1.85
extrude "Extrusion8" add sketch "Sketch1" along normal blind 1
properties part number "Pointer Finger Part"
